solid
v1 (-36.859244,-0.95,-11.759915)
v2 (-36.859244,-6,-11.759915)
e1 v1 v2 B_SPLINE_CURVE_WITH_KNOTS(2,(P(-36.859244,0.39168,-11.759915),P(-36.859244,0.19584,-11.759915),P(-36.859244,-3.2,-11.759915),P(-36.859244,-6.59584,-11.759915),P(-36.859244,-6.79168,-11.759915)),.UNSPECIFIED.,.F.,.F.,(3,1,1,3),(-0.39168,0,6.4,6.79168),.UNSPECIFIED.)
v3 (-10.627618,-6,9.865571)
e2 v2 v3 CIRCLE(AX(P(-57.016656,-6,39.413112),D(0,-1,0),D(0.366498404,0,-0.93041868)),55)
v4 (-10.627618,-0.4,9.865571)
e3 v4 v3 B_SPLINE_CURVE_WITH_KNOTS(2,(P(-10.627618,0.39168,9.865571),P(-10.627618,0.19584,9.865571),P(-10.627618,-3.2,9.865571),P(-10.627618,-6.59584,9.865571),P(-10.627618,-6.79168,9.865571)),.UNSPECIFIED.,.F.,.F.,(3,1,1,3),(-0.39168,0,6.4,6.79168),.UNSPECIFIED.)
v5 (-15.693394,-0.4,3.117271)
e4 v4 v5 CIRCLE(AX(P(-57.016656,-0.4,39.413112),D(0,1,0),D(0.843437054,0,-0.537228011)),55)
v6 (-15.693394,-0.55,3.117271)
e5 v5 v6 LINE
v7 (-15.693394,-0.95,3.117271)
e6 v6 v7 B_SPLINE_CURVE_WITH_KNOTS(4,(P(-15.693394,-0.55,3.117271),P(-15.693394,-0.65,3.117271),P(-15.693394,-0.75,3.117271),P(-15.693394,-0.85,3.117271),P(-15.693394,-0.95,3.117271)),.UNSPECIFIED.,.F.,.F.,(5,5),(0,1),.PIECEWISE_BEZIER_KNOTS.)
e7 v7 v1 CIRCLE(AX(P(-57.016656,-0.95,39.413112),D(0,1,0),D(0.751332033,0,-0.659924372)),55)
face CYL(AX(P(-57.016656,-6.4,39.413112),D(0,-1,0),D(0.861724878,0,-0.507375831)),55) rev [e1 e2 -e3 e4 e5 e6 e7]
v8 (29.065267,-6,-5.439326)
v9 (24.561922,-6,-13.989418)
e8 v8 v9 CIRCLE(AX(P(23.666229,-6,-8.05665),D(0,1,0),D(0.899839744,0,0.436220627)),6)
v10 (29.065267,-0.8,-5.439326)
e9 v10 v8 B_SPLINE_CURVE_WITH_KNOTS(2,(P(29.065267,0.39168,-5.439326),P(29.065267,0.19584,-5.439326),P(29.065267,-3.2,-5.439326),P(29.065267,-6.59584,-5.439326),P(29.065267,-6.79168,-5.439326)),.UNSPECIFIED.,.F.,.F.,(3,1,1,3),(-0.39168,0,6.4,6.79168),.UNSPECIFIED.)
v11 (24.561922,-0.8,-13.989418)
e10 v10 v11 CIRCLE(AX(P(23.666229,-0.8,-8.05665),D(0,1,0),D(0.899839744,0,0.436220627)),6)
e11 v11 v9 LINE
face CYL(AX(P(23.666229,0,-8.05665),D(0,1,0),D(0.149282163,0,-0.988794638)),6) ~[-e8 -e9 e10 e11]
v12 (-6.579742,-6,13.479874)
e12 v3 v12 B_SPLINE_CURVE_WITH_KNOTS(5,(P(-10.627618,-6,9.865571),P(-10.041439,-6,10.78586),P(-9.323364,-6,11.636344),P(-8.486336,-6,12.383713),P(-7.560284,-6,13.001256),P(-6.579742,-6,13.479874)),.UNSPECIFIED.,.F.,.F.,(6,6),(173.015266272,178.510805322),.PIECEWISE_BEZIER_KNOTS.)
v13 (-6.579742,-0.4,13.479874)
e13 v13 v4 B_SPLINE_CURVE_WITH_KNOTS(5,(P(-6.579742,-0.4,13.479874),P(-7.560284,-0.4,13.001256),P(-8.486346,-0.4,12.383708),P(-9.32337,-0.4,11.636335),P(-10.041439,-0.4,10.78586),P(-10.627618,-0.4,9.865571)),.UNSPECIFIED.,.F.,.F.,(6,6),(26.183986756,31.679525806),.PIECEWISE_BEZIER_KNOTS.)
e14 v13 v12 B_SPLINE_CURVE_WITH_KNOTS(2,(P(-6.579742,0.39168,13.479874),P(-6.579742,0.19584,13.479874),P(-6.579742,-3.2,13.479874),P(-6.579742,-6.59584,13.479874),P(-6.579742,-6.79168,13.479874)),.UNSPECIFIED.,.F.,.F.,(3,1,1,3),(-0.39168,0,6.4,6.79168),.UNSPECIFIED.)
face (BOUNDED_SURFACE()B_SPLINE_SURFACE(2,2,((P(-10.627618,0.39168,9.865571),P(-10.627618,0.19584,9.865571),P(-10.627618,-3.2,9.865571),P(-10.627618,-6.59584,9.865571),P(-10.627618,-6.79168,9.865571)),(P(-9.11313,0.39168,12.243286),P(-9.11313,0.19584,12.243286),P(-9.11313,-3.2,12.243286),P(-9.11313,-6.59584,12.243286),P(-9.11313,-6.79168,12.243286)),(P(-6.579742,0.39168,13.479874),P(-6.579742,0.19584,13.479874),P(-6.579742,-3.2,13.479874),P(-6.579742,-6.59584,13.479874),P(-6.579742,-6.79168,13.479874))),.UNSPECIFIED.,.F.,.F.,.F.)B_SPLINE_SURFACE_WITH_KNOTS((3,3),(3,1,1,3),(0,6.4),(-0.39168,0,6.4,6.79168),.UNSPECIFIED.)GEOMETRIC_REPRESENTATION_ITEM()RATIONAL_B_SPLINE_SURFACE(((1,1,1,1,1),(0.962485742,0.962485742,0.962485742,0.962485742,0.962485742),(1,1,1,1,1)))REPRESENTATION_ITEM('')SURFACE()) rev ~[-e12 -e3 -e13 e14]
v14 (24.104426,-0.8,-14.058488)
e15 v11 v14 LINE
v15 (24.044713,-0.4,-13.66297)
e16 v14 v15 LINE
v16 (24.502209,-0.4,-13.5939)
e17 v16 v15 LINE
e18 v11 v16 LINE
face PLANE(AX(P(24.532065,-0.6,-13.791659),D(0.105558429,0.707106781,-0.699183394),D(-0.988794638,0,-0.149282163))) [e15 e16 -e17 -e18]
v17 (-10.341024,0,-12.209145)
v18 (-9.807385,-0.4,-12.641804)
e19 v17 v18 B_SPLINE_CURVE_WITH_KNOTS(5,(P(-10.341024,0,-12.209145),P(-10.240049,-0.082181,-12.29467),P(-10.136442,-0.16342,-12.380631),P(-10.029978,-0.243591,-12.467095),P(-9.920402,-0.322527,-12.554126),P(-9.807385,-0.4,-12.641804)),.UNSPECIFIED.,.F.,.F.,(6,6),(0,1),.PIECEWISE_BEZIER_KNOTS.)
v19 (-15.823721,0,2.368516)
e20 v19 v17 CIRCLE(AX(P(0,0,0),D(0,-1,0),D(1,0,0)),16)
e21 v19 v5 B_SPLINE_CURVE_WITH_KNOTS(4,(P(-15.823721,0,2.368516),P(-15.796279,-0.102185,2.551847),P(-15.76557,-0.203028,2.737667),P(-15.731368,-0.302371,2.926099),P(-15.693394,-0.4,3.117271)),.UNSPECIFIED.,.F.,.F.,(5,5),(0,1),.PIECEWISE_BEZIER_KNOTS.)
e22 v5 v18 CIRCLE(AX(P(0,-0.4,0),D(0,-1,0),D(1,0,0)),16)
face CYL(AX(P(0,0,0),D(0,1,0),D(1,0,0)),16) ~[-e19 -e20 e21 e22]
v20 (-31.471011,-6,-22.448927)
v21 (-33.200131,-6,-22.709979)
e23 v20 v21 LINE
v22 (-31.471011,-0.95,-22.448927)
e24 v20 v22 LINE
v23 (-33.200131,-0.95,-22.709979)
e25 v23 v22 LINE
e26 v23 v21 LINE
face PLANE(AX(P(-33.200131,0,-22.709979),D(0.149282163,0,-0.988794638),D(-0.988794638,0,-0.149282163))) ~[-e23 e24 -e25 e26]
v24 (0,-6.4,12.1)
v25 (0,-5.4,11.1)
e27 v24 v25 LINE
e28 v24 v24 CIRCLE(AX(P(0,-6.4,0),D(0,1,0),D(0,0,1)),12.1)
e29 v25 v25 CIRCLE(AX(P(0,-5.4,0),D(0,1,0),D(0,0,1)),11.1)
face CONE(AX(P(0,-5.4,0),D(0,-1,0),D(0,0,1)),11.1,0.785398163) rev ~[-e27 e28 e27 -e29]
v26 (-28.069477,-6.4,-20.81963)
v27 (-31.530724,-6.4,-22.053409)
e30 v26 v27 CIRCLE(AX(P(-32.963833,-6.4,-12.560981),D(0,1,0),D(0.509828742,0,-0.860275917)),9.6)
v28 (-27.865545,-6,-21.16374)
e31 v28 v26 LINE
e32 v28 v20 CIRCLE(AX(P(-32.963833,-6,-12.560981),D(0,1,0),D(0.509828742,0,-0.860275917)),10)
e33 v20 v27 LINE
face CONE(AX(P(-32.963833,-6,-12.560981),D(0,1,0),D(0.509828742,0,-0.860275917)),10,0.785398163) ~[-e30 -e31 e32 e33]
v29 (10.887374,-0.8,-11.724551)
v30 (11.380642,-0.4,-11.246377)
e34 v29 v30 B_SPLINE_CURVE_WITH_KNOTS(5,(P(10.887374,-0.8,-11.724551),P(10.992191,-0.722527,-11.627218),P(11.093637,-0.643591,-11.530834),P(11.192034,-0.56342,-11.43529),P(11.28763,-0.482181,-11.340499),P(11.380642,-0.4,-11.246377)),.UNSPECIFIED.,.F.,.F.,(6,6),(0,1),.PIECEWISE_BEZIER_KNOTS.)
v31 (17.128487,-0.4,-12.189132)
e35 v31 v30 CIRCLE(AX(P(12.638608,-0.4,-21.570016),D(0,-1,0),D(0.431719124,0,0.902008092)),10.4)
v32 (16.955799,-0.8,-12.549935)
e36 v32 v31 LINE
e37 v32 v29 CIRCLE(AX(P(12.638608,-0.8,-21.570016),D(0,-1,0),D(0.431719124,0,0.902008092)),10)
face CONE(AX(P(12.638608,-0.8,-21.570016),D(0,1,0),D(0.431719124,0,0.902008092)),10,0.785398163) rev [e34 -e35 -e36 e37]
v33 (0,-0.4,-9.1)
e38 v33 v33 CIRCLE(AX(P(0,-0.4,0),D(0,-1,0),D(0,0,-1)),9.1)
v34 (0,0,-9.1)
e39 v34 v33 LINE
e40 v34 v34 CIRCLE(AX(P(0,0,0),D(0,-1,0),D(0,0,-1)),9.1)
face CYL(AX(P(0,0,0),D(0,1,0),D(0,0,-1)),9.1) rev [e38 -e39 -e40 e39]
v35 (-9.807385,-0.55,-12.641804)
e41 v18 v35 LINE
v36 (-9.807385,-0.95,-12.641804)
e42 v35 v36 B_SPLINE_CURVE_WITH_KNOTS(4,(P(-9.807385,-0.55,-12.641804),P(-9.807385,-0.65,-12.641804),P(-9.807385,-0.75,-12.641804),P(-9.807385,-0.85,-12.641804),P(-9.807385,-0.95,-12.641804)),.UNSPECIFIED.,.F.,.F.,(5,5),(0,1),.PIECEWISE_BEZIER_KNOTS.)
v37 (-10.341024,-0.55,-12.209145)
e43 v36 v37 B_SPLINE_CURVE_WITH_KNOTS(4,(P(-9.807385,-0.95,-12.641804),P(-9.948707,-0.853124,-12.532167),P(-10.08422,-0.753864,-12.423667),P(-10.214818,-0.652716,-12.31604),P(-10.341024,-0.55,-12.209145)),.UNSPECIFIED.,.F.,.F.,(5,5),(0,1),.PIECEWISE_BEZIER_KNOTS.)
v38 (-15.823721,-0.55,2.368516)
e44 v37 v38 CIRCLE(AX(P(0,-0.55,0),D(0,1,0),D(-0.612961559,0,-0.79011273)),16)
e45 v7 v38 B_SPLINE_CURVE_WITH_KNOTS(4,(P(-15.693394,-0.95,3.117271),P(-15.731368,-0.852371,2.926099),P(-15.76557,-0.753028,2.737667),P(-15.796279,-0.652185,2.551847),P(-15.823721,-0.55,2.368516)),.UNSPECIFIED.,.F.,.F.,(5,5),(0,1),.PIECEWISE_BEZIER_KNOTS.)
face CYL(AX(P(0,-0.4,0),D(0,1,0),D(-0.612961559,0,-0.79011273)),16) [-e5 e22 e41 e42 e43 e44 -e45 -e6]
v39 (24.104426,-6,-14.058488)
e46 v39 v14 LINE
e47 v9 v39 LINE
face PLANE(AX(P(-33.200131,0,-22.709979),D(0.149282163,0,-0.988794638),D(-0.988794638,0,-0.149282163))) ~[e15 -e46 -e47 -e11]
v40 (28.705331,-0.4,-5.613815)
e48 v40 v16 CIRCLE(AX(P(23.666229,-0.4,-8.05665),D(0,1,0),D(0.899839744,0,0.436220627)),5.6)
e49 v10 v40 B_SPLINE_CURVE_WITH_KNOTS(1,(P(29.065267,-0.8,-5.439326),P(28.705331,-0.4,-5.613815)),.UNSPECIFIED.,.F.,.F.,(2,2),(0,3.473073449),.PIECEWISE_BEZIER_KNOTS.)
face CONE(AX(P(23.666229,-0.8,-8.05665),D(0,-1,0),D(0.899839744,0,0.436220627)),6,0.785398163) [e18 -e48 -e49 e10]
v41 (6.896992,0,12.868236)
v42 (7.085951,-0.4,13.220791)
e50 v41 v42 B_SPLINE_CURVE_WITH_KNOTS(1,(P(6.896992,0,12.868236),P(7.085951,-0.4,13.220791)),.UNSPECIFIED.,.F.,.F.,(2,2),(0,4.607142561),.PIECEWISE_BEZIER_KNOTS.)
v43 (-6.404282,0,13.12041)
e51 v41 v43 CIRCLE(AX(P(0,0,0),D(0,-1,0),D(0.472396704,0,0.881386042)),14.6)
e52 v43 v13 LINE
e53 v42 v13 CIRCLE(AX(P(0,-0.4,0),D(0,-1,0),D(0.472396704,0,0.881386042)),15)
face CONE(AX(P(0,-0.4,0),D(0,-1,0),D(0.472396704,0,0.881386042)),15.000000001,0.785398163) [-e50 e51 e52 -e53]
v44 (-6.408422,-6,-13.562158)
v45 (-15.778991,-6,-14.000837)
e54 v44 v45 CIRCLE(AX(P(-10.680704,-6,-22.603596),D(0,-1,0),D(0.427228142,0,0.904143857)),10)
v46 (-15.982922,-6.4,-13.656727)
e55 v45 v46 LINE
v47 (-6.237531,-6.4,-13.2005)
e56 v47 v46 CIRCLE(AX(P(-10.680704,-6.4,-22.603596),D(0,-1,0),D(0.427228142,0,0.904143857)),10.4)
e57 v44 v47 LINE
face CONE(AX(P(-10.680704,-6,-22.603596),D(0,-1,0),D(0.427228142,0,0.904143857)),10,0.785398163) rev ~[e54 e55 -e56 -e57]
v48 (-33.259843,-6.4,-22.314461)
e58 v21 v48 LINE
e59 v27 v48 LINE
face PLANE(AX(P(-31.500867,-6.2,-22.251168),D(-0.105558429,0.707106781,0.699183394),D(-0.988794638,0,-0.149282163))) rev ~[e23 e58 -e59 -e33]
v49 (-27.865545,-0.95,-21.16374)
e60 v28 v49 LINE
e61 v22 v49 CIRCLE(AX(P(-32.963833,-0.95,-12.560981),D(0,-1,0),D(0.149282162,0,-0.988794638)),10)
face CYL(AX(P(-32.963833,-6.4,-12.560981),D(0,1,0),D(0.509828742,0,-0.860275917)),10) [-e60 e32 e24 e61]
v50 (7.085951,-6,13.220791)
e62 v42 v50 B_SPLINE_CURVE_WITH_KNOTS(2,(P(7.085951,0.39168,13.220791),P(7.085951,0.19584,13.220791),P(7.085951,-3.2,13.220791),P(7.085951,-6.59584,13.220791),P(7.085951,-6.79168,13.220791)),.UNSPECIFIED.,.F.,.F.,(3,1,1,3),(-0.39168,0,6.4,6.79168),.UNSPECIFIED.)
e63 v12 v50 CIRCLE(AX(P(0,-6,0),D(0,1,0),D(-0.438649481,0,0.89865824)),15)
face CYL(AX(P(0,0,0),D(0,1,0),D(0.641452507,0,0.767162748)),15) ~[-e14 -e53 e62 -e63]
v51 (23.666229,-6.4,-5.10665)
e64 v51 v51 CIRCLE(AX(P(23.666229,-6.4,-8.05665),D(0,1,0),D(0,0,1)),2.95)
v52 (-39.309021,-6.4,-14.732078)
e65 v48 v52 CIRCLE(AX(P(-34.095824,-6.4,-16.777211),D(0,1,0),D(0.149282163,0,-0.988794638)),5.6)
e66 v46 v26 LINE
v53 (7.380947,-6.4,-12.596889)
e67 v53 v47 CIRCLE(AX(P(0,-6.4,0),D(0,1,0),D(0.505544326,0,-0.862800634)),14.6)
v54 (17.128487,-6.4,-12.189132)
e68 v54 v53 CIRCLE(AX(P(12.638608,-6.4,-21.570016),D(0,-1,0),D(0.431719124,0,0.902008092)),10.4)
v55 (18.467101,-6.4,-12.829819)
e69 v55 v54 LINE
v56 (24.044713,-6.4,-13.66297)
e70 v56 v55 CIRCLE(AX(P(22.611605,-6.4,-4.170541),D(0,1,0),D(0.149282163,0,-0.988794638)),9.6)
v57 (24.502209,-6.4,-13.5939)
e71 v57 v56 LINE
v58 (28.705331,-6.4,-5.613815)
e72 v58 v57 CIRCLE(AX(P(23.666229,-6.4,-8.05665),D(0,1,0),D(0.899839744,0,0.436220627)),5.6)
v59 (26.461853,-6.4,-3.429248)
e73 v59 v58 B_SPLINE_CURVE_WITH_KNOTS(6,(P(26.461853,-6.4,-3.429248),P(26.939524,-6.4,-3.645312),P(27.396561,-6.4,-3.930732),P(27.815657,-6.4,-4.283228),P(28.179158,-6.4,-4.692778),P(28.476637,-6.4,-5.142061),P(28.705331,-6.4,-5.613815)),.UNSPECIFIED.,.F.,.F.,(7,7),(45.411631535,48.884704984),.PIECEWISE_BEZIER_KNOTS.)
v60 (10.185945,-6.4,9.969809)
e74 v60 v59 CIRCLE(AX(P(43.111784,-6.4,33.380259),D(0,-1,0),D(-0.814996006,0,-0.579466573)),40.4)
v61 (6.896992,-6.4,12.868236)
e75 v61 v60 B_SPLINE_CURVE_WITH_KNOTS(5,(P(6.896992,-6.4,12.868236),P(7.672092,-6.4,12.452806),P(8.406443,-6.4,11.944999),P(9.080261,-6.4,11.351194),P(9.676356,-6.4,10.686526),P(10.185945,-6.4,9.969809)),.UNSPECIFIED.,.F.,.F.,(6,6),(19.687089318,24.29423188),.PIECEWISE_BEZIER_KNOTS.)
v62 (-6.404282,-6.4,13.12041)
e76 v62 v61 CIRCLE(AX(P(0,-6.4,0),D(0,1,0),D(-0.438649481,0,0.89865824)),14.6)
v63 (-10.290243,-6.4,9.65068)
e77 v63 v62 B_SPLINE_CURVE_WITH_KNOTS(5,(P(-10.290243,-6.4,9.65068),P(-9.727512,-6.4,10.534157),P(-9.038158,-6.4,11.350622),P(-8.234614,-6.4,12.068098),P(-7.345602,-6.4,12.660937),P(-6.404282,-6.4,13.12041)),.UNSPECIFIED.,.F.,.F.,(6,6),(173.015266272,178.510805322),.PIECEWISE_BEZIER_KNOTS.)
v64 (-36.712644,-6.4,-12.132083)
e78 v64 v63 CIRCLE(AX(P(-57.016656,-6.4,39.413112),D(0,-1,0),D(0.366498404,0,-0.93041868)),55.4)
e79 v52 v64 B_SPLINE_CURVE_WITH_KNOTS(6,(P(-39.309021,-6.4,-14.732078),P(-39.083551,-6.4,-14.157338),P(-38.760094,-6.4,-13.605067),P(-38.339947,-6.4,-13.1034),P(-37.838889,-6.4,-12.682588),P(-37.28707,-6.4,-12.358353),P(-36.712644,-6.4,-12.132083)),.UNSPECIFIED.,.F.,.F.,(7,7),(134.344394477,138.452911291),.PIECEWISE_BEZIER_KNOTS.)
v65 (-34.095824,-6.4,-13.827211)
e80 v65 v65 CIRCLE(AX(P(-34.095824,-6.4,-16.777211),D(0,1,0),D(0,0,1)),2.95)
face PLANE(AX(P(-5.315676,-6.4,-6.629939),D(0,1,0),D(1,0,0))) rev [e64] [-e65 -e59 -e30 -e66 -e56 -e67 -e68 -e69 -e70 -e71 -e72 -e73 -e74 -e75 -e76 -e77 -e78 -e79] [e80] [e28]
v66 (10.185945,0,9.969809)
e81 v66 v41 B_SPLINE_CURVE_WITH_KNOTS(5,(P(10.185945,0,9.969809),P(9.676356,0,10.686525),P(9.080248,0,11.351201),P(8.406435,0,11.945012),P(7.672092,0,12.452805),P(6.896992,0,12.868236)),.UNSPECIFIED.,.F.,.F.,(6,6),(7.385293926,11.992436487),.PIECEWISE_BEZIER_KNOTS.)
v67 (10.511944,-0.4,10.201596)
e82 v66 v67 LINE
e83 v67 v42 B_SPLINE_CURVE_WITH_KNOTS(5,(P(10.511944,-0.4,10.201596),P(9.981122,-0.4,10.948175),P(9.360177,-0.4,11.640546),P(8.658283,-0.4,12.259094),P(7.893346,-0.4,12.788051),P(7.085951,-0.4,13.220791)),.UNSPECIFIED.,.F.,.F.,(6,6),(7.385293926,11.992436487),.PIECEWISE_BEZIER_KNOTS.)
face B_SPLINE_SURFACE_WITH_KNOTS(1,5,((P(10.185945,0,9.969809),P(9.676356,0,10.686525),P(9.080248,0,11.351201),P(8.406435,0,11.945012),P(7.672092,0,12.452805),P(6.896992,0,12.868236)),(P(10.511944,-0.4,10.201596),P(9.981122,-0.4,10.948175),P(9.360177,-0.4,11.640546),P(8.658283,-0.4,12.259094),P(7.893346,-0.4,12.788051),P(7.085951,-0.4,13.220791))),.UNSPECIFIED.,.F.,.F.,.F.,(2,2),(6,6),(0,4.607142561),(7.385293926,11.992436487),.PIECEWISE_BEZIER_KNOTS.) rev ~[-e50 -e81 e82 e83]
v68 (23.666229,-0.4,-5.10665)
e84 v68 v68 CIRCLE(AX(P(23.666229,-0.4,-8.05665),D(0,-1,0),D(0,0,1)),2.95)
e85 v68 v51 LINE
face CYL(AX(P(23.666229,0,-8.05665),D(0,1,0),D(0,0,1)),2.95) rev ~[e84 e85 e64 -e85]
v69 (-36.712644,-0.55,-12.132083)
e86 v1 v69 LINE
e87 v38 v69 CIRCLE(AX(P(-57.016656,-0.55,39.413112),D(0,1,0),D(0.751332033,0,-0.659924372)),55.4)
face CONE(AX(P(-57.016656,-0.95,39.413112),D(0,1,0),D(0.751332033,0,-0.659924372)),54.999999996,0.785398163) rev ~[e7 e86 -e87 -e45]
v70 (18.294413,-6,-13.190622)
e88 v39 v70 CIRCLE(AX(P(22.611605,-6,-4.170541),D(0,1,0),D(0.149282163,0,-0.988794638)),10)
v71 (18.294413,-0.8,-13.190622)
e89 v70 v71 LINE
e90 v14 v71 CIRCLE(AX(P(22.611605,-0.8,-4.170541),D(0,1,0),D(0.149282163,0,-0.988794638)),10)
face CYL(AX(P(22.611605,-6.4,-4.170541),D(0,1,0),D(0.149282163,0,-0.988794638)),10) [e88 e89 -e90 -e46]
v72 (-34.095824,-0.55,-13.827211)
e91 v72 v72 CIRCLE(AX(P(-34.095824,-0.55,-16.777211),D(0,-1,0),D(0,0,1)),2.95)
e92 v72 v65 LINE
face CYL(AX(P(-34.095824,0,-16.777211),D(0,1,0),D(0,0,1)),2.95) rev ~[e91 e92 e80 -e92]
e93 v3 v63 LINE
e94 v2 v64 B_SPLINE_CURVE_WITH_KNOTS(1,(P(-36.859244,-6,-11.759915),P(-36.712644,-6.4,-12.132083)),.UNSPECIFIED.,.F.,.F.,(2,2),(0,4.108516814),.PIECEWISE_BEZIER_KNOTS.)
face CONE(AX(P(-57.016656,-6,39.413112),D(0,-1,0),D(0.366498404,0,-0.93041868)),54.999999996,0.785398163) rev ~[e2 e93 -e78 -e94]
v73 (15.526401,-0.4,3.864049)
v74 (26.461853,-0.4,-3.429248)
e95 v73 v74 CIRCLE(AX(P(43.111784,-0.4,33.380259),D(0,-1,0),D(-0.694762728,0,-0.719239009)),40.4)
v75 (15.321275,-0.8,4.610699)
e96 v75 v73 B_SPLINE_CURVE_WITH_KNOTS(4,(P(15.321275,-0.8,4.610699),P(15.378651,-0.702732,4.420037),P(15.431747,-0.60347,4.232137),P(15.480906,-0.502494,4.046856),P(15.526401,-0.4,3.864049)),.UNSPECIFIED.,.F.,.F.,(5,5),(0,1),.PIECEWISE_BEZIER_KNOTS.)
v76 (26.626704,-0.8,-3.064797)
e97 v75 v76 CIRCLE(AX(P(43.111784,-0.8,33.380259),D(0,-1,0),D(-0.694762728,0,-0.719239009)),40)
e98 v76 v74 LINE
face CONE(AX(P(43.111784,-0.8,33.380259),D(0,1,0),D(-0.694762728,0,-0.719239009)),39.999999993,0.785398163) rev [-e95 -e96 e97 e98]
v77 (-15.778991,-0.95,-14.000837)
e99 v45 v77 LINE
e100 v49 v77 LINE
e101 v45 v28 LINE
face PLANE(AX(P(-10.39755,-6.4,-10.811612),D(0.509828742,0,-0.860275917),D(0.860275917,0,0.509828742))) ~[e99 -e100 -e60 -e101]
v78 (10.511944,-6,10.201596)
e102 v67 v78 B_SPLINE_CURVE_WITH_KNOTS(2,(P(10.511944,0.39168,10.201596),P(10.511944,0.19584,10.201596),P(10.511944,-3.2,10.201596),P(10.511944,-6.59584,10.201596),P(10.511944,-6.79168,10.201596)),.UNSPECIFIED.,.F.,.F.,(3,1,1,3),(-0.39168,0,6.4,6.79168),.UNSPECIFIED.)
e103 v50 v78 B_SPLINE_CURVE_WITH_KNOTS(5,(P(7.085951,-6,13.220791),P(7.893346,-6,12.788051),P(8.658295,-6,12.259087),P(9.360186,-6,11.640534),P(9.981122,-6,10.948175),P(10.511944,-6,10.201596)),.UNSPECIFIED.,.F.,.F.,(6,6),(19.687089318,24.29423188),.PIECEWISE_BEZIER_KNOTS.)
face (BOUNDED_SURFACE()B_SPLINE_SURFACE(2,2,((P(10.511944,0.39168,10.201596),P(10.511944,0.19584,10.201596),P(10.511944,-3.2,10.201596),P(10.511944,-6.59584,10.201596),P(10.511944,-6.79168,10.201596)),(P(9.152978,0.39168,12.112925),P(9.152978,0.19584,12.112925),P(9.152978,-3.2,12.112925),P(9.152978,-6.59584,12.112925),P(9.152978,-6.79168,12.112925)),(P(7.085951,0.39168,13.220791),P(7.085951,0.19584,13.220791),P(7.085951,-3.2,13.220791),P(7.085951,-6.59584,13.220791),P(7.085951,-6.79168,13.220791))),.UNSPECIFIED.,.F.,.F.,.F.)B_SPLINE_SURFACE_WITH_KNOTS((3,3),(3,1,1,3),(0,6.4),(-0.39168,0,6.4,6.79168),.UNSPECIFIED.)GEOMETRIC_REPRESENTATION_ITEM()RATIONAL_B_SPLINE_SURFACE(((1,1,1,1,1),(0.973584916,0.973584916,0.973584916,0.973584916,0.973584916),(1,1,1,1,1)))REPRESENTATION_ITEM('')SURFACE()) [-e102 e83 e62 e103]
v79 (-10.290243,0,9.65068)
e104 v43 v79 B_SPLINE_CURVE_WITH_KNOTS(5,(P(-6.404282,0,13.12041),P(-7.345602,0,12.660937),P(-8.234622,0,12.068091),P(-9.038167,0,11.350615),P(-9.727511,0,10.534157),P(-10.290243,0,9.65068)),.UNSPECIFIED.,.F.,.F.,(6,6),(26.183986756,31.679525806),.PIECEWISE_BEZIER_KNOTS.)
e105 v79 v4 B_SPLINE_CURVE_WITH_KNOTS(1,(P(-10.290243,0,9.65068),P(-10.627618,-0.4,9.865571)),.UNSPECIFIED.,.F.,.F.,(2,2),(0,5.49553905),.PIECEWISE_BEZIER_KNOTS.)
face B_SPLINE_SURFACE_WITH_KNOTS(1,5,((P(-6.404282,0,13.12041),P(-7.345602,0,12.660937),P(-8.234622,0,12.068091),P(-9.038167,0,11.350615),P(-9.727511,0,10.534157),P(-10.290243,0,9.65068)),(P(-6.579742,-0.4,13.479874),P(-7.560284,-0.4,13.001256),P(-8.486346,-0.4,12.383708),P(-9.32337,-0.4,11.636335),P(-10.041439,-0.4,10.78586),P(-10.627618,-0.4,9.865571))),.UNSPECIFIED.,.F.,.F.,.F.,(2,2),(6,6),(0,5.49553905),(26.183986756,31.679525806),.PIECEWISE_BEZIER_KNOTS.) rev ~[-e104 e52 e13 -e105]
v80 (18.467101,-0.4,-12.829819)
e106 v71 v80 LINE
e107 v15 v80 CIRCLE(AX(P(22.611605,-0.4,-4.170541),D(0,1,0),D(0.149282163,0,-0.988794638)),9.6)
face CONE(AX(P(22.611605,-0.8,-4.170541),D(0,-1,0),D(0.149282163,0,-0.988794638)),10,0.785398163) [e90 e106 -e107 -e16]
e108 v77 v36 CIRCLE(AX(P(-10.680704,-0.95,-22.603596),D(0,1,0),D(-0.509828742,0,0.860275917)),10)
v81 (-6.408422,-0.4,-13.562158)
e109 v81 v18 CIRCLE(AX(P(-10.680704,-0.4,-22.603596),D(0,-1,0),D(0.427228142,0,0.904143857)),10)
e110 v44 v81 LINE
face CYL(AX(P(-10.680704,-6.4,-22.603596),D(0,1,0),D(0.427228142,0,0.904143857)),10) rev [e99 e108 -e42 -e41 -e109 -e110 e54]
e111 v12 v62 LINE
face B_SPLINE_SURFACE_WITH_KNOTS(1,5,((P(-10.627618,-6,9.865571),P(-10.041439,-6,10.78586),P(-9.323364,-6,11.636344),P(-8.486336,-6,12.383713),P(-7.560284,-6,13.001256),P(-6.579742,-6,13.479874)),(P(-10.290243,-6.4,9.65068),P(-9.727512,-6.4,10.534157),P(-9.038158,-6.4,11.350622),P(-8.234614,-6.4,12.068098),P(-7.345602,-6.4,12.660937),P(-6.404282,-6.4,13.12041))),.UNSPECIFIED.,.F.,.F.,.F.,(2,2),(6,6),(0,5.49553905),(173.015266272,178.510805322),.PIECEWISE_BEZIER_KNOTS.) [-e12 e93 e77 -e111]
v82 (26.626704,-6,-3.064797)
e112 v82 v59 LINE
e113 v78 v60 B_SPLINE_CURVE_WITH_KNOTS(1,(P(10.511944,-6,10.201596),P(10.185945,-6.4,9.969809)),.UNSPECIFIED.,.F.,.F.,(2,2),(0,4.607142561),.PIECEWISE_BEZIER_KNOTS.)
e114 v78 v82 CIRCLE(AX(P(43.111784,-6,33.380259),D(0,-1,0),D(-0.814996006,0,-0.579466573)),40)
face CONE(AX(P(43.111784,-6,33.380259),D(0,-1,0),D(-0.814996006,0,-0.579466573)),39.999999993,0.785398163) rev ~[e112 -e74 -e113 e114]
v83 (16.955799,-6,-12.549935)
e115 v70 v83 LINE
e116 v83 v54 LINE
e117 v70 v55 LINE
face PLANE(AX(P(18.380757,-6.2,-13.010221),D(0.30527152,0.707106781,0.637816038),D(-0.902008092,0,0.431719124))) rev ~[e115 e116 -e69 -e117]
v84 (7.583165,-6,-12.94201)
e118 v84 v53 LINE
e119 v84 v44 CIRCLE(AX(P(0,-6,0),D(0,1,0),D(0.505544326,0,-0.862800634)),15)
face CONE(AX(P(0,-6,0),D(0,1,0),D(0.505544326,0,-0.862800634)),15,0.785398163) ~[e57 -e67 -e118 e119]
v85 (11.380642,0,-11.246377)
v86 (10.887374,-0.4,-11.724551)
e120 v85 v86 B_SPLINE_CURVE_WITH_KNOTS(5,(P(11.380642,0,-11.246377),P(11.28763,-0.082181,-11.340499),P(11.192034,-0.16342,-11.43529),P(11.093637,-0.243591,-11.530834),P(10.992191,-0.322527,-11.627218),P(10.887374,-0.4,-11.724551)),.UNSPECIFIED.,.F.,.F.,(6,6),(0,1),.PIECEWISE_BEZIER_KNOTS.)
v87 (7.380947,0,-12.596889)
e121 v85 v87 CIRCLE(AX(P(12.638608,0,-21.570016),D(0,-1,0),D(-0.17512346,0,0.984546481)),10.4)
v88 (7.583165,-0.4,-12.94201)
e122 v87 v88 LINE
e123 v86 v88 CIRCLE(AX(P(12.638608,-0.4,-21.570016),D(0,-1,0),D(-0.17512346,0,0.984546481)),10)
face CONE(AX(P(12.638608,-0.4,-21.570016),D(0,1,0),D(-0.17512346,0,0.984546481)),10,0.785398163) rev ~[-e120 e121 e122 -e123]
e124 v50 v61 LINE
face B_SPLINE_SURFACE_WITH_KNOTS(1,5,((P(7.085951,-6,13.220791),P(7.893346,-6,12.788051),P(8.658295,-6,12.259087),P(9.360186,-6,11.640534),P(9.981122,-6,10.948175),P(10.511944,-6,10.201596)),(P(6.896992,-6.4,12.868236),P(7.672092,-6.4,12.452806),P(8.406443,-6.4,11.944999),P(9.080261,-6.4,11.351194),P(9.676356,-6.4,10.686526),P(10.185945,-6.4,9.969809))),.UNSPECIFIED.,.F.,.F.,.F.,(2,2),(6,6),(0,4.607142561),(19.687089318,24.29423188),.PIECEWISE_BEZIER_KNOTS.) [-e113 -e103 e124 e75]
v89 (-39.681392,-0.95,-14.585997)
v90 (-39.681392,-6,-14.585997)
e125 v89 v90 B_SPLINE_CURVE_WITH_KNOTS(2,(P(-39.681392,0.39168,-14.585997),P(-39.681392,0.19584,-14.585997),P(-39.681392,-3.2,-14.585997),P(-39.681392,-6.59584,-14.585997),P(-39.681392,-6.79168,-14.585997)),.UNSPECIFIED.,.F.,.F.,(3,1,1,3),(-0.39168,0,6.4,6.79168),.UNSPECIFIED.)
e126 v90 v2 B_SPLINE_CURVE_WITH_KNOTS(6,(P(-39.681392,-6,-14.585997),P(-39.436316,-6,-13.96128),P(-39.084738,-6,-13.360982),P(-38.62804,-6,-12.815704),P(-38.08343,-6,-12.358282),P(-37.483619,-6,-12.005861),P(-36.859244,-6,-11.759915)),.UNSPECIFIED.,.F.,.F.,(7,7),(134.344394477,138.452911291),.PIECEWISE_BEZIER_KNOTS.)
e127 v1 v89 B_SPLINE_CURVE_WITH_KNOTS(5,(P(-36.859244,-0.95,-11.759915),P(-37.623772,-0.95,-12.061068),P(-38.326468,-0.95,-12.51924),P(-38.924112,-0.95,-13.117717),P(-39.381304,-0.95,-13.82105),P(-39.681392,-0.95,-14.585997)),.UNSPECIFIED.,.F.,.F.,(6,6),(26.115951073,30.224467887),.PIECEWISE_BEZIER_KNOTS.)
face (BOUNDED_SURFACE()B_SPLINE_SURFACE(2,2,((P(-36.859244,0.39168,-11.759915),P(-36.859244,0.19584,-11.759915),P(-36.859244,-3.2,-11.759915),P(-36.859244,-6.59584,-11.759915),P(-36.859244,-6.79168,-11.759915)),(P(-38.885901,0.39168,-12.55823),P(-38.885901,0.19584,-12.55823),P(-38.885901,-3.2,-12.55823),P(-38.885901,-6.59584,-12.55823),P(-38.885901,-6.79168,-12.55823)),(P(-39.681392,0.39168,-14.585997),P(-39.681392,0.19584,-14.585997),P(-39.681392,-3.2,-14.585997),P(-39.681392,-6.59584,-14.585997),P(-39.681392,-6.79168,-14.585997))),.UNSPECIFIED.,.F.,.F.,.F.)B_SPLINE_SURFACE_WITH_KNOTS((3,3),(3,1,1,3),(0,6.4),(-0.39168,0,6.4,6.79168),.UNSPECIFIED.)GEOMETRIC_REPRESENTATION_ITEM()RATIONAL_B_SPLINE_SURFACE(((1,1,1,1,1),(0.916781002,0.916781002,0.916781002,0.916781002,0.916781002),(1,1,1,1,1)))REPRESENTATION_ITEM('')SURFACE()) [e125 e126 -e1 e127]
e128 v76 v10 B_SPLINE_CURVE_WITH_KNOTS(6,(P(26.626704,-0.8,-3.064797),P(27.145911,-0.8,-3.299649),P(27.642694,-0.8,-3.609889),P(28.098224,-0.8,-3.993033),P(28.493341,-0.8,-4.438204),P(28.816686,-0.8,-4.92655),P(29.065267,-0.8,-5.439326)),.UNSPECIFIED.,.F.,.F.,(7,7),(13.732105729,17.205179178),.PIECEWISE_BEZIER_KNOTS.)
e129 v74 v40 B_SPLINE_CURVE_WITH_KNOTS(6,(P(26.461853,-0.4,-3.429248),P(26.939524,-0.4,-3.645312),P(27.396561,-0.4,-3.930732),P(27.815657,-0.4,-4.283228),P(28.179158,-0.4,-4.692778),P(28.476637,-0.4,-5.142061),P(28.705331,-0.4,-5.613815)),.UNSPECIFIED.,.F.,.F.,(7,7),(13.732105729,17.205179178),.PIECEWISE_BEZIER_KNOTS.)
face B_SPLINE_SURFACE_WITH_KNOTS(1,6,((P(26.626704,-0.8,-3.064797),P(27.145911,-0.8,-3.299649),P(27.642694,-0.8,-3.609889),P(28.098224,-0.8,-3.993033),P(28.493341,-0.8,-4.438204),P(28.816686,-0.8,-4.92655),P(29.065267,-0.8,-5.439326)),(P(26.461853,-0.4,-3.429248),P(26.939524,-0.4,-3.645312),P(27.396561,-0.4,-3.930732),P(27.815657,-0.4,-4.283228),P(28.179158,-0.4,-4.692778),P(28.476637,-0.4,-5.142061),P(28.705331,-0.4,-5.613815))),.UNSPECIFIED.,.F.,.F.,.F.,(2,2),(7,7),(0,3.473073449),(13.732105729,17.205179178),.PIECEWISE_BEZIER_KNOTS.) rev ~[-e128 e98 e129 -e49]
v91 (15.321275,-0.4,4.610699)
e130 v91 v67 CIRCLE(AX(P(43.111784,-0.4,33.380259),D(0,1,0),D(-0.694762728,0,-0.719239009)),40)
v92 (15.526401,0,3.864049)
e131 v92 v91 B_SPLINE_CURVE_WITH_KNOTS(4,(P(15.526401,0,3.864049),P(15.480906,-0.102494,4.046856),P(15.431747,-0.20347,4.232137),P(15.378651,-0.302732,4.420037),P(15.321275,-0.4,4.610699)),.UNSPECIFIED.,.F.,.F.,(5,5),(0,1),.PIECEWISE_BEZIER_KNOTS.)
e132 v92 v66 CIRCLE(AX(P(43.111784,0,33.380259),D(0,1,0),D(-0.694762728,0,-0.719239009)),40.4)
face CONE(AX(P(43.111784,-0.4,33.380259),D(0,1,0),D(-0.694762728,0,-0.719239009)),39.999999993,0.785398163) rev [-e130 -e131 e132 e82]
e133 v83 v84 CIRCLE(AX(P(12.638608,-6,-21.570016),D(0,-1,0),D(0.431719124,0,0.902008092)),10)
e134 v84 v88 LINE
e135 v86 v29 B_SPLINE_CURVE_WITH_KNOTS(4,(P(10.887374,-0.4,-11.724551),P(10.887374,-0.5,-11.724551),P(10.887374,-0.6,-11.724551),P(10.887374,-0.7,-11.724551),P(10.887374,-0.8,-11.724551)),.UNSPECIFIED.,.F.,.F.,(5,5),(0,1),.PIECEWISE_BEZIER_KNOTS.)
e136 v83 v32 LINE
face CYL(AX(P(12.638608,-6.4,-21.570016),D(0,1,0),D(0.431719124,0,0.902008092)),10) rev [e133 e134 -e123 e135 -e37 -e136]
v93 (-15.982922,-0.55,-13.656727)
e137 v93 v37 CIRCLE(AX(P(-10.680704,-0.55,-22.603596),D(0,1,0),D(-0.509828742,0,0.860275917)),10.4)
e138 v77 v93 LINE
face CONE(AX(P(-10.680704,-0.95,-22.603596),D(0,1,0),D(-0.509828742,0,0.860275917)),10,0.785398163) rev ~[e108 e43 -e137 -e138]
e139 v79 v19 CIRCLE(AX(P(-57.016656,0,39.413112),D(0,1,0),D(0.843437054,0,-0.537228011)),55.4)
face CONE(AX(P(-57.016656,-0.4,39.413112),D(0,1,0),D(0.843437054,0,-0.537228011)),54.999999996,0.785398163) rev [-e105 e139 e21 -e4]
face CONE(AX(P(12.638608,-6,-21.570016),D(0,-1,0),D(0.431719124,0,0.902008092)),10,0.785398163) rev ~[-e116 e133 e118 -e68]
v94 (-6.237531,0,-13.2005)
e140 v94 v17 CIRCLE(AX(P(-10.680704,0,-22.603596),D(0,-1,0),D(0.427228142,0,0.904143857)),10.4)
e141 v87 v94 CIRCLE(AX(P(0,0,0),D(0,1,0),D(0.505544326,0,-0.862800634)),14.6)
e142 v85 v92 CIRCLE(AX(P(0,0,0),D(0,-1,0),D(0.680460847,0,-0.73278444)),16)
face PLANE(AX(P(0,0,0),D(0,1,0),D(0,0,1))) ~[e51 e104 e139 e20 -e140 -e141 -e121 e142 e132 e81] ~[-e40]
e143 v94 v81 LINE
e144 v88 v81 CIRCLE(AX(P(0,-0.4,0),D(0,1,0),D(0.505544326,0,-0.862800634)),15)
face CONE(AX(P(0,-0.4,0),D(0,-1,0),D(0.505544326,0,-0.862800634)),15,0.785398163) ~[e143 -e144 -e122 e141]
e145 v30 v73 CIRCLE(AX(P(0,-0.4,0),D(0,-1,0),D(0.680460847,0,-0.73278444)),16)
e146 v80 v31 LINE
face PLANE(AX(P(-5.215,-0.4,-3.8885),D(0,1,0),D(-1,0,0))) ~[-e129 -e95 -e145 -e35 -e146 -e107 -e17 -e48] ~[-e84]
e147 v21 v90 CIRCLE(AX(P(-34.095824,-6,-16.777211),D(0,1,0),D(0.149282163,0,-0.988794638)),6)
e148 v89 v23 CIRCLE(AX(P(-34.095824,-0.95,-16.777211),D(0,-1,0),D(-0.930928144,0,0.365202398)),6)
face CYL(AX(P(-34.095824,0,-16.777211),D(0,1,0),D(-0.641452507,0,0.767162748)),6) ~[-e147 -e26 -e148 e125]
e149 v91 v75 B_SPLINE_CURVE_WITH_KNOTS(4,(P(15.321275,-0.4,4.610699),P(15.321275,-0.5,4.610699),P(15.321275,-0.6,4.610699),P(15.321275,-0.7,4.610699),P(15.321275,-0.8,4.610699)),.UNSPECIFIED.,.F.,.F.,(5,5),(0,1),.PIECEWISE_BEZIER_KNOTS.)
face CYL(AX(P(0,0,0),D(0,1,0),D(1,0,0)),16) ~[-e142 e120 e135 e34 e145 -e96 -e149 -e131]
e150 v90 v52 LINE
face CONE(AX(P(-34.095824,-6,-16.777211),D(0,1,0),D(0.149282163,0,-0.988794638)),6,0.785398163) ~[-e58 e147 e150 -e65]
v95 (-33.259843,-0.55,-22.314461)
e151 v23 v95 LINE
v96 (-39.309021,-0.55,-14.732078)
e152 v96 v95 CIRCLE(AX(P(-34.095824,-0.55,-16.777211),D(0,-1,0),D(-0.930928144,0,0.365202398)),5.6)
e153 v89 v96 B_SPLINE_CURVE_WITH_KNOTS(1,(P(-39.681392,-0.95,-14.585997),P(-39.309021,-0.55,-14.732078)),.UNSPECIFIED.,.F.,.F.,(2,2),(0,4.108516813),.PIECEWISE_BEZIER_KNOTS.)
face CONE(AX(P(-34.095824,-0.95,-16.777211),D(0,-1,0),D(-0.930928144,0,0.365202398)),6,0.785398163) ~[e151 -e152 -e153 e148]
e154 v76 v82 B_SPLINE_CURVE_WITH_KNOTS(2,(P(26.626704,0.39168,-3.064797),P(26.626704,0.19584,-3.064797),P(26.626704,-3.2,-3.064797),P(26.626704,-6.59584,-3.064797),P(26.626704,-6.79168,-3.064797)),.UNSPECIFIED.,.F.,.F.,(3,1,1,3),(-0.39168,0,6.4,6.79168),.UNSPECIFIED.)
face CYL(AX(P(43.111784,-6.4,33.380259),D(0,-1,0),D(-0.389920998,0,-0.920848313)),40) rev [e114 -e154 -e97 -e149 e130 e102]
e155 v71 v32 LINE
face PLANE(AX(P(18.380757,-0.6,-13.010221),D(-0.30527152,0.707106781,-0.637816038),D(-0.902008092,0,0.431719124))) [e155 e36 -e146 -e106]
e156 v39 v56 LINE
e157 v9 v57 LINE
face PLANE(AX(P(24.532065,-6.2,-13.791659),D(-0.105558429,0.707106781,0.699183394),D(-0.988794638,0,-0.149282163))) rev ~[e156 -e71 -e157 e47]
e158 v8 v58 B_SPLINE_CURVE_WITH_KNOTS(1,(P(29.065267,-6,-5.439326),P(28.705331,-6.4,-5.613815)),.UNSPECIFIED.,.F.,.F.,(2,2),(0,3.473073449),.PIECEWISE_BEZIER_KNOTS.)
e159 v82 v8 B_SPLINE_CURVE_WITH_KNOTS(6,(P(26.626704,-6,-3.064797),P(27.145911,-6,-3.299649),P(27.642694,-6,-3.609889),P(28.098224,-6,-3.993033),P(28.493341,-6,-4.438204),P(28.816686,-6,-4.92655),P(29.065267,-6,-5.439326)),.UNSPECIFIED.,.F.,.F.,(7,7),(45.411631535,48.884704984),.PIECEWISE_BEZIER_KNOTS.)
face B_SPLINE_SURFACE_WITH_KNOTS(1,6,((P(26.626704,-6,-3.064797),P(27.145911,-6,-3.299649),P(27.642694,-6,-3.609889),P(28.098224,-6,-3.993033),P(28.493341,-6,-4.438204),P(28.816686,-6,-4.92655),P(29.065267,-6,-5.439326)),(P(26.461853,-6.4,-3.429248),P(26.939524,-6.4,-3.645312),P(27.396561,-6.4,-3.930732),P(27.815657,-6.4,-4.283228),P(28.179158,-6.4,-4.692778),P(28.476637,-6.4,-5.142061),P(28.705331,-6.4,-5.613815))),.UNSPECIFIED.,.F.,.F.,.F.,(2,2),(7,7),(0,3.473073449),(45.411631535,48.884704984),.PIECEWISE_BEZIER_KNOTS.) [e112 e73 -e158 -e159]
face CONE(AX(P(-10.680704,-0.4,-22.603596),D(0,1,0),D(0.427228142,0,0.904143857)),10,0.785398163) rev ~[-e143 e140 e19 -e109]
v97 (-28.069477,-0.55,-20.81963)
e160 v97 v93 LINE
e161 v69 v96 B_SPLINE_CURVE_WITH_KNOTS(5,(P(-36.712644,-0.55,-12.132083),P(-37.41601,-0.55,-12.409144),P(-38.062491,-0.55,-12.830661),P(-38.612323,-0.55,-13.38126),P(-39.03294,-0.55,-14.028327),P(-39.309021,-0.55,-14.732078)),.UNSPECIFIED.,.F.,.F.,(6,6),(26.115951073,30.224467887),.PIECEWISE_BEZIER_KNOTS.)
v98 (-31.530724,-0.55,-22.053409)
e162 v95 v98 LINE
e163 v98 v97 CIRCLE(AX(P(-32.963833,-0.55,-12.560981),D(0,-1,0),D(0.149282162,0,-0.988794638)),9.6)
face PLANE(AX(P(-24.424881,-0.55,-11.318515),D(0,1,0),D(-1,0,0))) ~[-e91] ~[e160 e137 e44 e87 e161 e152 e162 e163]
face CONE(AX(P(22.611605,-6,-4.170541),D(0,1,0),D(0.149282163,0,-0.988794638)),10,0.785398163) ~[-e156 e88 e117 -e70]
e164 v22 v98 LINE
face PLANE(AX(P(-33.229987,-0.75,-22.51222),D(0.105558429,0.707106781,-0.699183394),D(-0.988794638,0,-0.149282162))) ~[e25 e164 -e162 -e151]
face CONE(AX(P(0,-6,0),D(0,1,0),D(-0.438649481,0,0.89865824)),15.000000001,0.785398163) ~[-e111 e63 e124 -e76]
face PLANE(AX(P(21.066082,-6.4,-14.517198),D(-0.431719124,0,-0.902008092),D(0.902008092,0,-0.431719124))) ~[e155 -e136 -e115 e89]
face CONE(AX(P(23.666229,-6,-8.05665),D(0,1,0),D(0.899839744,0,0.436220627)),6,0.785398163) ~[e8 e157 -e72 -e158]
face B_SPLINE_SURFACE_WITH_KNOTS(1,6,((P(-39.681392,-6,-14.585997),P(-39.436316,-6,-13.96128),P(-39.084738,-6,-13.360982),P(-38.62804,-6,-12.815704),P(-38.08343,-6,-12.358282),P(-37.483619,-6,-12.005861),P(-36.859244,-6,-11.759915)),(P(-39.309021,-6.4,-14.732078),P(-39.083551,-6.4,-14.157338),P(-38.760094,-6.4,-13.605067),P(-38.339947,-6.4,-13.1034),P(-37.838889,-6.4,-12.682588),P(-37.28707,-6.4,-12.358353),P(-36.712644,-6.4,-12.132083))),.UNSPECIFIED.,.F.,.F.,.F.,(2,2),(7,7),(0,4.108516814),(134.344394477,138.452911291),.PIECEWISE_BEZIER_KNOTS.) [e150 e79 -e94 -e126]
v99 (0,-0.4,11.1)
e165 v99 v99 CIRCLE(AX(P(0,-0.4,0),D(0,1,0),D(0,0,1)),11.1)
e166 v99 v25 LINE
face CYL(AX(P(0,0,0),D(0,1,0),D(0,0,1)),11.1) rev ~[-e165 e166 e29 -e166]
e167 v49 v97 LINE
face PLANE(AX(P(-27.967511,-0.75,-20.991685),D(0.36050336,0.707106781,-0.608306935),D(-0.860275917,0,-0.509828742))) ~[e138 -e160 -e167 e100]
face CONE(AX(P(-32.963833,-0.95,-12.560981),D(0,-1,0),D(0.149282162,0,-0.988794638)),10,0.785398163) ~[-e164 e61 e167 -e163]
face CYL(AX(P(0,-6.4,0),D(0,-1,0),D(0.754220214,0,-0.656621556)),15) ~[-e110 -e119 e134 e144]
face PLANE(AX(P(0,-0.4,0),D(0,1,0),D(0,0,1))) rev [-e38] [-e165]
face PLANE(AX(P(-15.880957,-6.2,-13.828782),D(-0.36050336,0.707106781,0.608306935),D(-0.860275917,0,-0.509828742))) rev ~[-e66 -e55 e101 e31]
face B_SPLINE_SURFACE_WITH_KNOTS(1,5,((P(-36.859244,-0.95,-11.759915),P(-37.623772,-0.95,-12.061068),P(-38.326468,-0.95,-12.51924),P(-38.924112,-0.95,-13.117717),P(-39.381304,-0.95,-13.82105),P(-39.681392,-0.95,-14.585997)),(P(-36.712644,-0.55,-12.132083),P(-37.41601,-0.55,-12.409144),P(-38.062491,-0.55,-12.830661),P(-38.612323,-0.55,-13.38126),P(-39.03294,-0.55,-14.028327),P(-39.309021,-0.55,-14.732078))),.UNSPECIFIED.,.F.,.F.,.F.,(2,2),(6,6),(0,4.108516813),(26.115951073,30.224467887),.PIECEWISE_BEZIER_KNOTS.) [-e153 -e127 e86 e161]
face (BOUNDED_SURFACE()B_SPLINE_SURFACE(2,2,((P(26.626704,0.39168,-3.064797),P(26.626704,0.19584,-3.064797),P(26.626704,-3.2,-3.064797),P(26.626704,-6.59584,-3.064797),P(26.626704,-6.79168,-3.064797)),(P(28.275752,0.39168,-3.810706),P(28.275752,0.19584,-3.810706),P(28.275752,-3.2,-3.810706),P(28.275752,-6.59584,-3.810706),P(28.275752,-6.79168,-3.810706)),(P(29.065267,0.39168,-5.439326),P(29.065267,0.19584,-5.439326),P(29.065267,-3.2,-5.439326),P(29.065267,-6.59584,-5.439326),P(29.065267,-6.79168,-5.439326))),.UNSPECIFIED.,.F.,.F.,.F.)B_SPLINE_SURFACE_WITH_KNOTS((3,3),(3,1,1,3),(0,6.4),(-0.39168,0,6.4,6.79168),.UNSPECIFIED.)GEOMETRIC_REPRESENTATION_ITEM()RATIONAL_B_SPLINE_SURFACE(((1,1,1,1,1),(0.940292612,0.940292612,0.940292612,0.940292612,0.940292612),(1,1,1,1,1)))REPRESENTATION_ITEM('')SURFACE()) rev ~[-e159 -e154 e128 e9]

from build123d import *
from build123d.topology import SkipClean

# Parameters (mm, degrees)
SKETCH1_R           = 11.1
SKETCH1_R_2         = 2.95
BOSS_EXTRUDE1_DEPTH = 6.4
CUT_EXTRUDE4_REACH  = 48.556
CHAMFER1_SIZE       = 1
CUT_EXTRUDE3_DEPTH  = 47.555734529
FILLET1_R           = 10
FILLET2_R           = 5
SKETCH7_R           = 11.1
SKETCH7_R_2         = 9.1
BOSS_EXTRUDE2_DEPTH = 0.4
SKETCH9_OUTSIDE_W   = 87.68
SKETCH9_OUTSIDE_H   = 55.695
SKETCH9_OUTSIDE_R   = 16
CUT_EXTRUDE5_DEPTH  = 0.4
CUT_EXTRUDE6_DEPTH  = 0.15
CHAMFER2_SIZE       = 0.4


with BuildPart() as part:
    # Sketch1 → Boss-Extrude1 (new body)
    with BuildSketch(Plane(origin=(0, 0, 0), x_dir=(1, 0, 0), z_dir=(0, 1, 0))):
        with BuildLine():
            Line((-9.621787606, -11.507441213), (-37.944538575, 12.174234774))
            ThreePointArc((-37.944538575, 12.174234774), (-39.566706632, 19.240834224), (-33.200130557, 22.709979086))
            Line((-33.200130557, 22.709979086), (24.561921844, 13.989417946))
            ThreePointArc((24.561921844, 13.989417946), (29.443583706, 9.675962035), (27.514943911, 3.453673633))
            Line((27.514943911, 3.453673633), (9.621787606, -11.507441213))
            ThreePointArc((9.621787606, -11.507441213), (0, -15), (-9.621787606, -11.507441213))
        make_face()
        with Locations(Location((0, 0, 0), (0, 0, 270))):
            Circle(SKETCH1_R, mode=Mode.SUBTRACT)
        with Locations(Location((-34.095823533, 16.777211259, 0), (0, 0, 270))):
            Circle(SKETCH1_R_2, mode=Mode.SUBTRACT)
        with Locations(Location((23.666228869, 8.056650118, 0), (0, 0, 270))):
            Circle(SKETCH1_R_2, mode=Mode.SUBTRACT)
    extrude(amount=BOSS_EXTRUDE1_DEPTH)

    # Sketch6 → Cut-Extrude4 (cut, up to next)
    with BuildSketch(Plane(origin=(0, 6.4, 0), x_dir=(1, 0, 0), z_dir=(0, 1, 0)), mode=Mode.PRIVATE) as cut_extrude4_sk1:
        with BuildLine():
            Line((-10.397549699, 10.811612287), (-29.542980034, 22.157844884))
            Line((-29.542980034, 22.157844884), (21.066082003, 14.517198449))
            Line((21.066082003, 14.517198449), (11.313303216, 9.849323344))
            ThreePointArc((11.313303216, 9.849323344), (0.664192087, 14.985287747), (-10.397549699, 10.811612287))
        make_face()
    cut_extrude4_tool1 = extrude(cut_extrude4_sk1.sketch, amount=-CUT_EXTRUDE4_REACH, mode=Mode.PRIVATE) & part.part
    add(cut_extrude4_tool1.solids().sort_by_distance((-4.90649, 6.4, -15.955418))[0], mode=Mode.SUBTRACT)

    # Chamfer1
    chamfer1_edges = [part.edges().sort_by_distance(p)[0] for p in [
        (0, 6.4, -11.1),
    ]]
    chamfer(chamfer1_edges, length=CHAMFER1_SIZE)

    # Sketch5 → Cut-Extrude3 (cut, through all)
    with BuildSketch(Plane(origin=(0, 6.4, 0), x_dir=(1, 0, 0), z_dir=(0, 1, 0))):
        with BuildLine():
            Line((-37.944538575, 12.174234774), (-9.621787606, -11.507441213))
            ThreePointArc((-9.621787606, -11.507441213), (-21.736768022, 2.78083918), (-37.944538575, 12.174234774))
        make_face()
        with BuildLine():
            Line((9.621787606, -11.507441213), (27.514943911, 3.453673633))
            ThreePointArc((27.514943911, 3.453673633), (17.45368355, -2.69374898), (9.621787606, -11.507441213))
        make_face()
    extrude(amount=-CUT_EXTRUDE3_DEPTH, mode=Mode.SUBTRACT)

    # Fillet1
    fillet1_edges = [part.edges().sort_by_distance(p)[0] for p in [
        (-9.621787606, 3.2, 11.507441213),
        (9.621787606, 3.2, 11.507441213),
        (11.313303216, 3.2, -9.849323344),
        (-10.397549699, 3.2, -10.811612287),
        (-29.542980034, 3.2, -22.157844884),
        (21.066082003, 3.2, -14.517198449),
    ]]
    fillet(fillet1_edges, radius=FILLET1_R)

    # Fillet2
    fillet2_edges = [part.edges().sort_by_distance(p)[0] for p in [
        (-37.944538575, 3.2, -12.174234774),
        (27.514943911, 3.2, -3.453673633),
    ]]
    fillet(fillet2_edges, radius=FILLET2_R)

    # Sketch7 → Boss-Extrude2 (add)
    with BuildSketch(Plane.XZ):
        with Locations(Location((0, 0, 0), (0, 0, 270))):
            Circle(SKETCH7_R)
        with Locations(Location((0, 0, 0), (0, 0, 270))):
            Circle(SKETCH7_R_2, mode=Mode.SUBTRACT)
    extrude(amount=-BOSS_EXTRUDE2_DEPTH)

    # Sketch9 outside → Cut-Extrude5 (cut)
    with BuildSketch(Plane.XZ):
        with Locations((-5.215, -3.8885)):
            Rectangle(SKETCH9_OUTSIDE_W, SKETCH9_OUTSIDE_H)
        Circle(SKETCH9_OUTSIDE_R, mode=Mode.SUBTRACT)
    extrude(amount=-CUT_EXTRUDE5_DEPTH, mode=Mode.SUBTRACT)

    # Sketch10 → Cut-Extrude6 (cut)
    with SkipClean():  # the faces are left unmerged after this step: merging them gives an invalid solid
        with BuildSketch(Plane.XZ.offset(-0.4)):
            with BuildLine():
                Line((-33.200130557, -22.709979086), (-31.471010975, -22.448927195))
                ThreePointArc((-31.471010975, -22.448927195), (-29.606213483, -21.980449689), (-27.865545183, -21.16373999))
                Line((-27.865545183, -21.16373999), (-15.778990975, -14.000837254))
                ThreePointArc((-15.778990975, -14.000837254), (-12.899787471, -12.852921242), (-9.807384948, -12.641803688))
                ThreePointArc((-9.807384948, -12.641803688), (-14.988647226, -5.59825458), (-15.693394103, 3.11727149))
                ThreePointArc((-15.693394103, 3.11727149), (-25.389120558, -5.583543581), (-36.859243696, -11.759915461))
                ThreePointArc((-36.859243696, -11.759915461), (-38.564746422, -12.878937509), (-39.681392394, -14.585996871))
                ThreePointArc((-39.681392394, -14.585996871), (-38.786079998, -20.519068323), (-33.200130557, -22.709979086))
            make_face()
        extrude(amount=-CUT_EXTRUDE6_DEPTH, mode=Mode.SUBTRACT)

    # Chamfer2
    chamfer2_edges = [part.edges().sort_by_distance(p)[0] for p in [
        (9.181258422, 0, -12.186693797),
        (0.664192087, 0, -14.985287747),
        (-8.067073348, 0, -12.95119066),
        (12.787484872, 0, 7.295073573),
        (8.973593298, 0, 11.909370886),
        (0.284328537, 0, 14.997305001),
        (-8.853535866, 0, 11.952551059),
        (-13.030899461, 0, 6.394129067),
        (-8.853535866, 6.4, 11.952551059),
        (0.284328537, 6.4, 14.997305001),
        (-22.030616875, 6.4, -3.024808286),
        (8.973593298, 6.4, 11.909370886),
        (-38.564746422, 6.4, -12.878937509),
        (17.688730274, 6.4, 2.498737743),
        (-38.786079998, 6.4, -20.519068323),
        (28.054256045, 6.4, -4.038174832),
        (-32.335570766, 6.4, -22.579453141),
        (28.974894193, 6.4, -10.852731747),
        (-29.606213483, 6.4, -21.980449689),
        (24.33317404, 6.4, -14.023952889),
        (-21.822268079, 6.4, -17.582288622),
        (21.134254432, 6.4, -14.06081124),
        (-11.148337367, 6.4, -12.614536482),
        (17.625106381, 6.4, -12.870278654),
        (0.664192087, 6.4, -14.985287747),
        (12.220655249, 6.4, -11.578753904),
        (13.986327713, 0.4, -11.661249433),
        (17.625106381, 0.4, -12.870278654),
        (21.134254432, 0.4, -14.06081124),
        (20.643800798, 0.4, 0.286607853),
        (24.33317404, 0.4, -14.023952889),
        (28.054256045, 0.4, -4.038174832),
        (28.974894193, 0.4, -10.852731747),
        (-25.389120558, 0.55, -5.583543581),
        (-38.564746422, 0.55, -12.878937509),
        (-38.786079998, 0.55, -20.519068323),
        (-32.335570766, 0.55, -22.579453141),
        (-29.606213483, 0.55, -21.980449689),
        (-12.899787471, 0.55, -12.852921242),
        (-21.822268079, 0.55, -17.582288622),
    ]]
    chamfer(chamfer2_edges, length=CHAMFER2_SIZE)


with BuildPart() as body_2:
    # Mirror1: mirrored copy
    add(part.part.mirror(Plane.ZX))


solid = body_2.part
